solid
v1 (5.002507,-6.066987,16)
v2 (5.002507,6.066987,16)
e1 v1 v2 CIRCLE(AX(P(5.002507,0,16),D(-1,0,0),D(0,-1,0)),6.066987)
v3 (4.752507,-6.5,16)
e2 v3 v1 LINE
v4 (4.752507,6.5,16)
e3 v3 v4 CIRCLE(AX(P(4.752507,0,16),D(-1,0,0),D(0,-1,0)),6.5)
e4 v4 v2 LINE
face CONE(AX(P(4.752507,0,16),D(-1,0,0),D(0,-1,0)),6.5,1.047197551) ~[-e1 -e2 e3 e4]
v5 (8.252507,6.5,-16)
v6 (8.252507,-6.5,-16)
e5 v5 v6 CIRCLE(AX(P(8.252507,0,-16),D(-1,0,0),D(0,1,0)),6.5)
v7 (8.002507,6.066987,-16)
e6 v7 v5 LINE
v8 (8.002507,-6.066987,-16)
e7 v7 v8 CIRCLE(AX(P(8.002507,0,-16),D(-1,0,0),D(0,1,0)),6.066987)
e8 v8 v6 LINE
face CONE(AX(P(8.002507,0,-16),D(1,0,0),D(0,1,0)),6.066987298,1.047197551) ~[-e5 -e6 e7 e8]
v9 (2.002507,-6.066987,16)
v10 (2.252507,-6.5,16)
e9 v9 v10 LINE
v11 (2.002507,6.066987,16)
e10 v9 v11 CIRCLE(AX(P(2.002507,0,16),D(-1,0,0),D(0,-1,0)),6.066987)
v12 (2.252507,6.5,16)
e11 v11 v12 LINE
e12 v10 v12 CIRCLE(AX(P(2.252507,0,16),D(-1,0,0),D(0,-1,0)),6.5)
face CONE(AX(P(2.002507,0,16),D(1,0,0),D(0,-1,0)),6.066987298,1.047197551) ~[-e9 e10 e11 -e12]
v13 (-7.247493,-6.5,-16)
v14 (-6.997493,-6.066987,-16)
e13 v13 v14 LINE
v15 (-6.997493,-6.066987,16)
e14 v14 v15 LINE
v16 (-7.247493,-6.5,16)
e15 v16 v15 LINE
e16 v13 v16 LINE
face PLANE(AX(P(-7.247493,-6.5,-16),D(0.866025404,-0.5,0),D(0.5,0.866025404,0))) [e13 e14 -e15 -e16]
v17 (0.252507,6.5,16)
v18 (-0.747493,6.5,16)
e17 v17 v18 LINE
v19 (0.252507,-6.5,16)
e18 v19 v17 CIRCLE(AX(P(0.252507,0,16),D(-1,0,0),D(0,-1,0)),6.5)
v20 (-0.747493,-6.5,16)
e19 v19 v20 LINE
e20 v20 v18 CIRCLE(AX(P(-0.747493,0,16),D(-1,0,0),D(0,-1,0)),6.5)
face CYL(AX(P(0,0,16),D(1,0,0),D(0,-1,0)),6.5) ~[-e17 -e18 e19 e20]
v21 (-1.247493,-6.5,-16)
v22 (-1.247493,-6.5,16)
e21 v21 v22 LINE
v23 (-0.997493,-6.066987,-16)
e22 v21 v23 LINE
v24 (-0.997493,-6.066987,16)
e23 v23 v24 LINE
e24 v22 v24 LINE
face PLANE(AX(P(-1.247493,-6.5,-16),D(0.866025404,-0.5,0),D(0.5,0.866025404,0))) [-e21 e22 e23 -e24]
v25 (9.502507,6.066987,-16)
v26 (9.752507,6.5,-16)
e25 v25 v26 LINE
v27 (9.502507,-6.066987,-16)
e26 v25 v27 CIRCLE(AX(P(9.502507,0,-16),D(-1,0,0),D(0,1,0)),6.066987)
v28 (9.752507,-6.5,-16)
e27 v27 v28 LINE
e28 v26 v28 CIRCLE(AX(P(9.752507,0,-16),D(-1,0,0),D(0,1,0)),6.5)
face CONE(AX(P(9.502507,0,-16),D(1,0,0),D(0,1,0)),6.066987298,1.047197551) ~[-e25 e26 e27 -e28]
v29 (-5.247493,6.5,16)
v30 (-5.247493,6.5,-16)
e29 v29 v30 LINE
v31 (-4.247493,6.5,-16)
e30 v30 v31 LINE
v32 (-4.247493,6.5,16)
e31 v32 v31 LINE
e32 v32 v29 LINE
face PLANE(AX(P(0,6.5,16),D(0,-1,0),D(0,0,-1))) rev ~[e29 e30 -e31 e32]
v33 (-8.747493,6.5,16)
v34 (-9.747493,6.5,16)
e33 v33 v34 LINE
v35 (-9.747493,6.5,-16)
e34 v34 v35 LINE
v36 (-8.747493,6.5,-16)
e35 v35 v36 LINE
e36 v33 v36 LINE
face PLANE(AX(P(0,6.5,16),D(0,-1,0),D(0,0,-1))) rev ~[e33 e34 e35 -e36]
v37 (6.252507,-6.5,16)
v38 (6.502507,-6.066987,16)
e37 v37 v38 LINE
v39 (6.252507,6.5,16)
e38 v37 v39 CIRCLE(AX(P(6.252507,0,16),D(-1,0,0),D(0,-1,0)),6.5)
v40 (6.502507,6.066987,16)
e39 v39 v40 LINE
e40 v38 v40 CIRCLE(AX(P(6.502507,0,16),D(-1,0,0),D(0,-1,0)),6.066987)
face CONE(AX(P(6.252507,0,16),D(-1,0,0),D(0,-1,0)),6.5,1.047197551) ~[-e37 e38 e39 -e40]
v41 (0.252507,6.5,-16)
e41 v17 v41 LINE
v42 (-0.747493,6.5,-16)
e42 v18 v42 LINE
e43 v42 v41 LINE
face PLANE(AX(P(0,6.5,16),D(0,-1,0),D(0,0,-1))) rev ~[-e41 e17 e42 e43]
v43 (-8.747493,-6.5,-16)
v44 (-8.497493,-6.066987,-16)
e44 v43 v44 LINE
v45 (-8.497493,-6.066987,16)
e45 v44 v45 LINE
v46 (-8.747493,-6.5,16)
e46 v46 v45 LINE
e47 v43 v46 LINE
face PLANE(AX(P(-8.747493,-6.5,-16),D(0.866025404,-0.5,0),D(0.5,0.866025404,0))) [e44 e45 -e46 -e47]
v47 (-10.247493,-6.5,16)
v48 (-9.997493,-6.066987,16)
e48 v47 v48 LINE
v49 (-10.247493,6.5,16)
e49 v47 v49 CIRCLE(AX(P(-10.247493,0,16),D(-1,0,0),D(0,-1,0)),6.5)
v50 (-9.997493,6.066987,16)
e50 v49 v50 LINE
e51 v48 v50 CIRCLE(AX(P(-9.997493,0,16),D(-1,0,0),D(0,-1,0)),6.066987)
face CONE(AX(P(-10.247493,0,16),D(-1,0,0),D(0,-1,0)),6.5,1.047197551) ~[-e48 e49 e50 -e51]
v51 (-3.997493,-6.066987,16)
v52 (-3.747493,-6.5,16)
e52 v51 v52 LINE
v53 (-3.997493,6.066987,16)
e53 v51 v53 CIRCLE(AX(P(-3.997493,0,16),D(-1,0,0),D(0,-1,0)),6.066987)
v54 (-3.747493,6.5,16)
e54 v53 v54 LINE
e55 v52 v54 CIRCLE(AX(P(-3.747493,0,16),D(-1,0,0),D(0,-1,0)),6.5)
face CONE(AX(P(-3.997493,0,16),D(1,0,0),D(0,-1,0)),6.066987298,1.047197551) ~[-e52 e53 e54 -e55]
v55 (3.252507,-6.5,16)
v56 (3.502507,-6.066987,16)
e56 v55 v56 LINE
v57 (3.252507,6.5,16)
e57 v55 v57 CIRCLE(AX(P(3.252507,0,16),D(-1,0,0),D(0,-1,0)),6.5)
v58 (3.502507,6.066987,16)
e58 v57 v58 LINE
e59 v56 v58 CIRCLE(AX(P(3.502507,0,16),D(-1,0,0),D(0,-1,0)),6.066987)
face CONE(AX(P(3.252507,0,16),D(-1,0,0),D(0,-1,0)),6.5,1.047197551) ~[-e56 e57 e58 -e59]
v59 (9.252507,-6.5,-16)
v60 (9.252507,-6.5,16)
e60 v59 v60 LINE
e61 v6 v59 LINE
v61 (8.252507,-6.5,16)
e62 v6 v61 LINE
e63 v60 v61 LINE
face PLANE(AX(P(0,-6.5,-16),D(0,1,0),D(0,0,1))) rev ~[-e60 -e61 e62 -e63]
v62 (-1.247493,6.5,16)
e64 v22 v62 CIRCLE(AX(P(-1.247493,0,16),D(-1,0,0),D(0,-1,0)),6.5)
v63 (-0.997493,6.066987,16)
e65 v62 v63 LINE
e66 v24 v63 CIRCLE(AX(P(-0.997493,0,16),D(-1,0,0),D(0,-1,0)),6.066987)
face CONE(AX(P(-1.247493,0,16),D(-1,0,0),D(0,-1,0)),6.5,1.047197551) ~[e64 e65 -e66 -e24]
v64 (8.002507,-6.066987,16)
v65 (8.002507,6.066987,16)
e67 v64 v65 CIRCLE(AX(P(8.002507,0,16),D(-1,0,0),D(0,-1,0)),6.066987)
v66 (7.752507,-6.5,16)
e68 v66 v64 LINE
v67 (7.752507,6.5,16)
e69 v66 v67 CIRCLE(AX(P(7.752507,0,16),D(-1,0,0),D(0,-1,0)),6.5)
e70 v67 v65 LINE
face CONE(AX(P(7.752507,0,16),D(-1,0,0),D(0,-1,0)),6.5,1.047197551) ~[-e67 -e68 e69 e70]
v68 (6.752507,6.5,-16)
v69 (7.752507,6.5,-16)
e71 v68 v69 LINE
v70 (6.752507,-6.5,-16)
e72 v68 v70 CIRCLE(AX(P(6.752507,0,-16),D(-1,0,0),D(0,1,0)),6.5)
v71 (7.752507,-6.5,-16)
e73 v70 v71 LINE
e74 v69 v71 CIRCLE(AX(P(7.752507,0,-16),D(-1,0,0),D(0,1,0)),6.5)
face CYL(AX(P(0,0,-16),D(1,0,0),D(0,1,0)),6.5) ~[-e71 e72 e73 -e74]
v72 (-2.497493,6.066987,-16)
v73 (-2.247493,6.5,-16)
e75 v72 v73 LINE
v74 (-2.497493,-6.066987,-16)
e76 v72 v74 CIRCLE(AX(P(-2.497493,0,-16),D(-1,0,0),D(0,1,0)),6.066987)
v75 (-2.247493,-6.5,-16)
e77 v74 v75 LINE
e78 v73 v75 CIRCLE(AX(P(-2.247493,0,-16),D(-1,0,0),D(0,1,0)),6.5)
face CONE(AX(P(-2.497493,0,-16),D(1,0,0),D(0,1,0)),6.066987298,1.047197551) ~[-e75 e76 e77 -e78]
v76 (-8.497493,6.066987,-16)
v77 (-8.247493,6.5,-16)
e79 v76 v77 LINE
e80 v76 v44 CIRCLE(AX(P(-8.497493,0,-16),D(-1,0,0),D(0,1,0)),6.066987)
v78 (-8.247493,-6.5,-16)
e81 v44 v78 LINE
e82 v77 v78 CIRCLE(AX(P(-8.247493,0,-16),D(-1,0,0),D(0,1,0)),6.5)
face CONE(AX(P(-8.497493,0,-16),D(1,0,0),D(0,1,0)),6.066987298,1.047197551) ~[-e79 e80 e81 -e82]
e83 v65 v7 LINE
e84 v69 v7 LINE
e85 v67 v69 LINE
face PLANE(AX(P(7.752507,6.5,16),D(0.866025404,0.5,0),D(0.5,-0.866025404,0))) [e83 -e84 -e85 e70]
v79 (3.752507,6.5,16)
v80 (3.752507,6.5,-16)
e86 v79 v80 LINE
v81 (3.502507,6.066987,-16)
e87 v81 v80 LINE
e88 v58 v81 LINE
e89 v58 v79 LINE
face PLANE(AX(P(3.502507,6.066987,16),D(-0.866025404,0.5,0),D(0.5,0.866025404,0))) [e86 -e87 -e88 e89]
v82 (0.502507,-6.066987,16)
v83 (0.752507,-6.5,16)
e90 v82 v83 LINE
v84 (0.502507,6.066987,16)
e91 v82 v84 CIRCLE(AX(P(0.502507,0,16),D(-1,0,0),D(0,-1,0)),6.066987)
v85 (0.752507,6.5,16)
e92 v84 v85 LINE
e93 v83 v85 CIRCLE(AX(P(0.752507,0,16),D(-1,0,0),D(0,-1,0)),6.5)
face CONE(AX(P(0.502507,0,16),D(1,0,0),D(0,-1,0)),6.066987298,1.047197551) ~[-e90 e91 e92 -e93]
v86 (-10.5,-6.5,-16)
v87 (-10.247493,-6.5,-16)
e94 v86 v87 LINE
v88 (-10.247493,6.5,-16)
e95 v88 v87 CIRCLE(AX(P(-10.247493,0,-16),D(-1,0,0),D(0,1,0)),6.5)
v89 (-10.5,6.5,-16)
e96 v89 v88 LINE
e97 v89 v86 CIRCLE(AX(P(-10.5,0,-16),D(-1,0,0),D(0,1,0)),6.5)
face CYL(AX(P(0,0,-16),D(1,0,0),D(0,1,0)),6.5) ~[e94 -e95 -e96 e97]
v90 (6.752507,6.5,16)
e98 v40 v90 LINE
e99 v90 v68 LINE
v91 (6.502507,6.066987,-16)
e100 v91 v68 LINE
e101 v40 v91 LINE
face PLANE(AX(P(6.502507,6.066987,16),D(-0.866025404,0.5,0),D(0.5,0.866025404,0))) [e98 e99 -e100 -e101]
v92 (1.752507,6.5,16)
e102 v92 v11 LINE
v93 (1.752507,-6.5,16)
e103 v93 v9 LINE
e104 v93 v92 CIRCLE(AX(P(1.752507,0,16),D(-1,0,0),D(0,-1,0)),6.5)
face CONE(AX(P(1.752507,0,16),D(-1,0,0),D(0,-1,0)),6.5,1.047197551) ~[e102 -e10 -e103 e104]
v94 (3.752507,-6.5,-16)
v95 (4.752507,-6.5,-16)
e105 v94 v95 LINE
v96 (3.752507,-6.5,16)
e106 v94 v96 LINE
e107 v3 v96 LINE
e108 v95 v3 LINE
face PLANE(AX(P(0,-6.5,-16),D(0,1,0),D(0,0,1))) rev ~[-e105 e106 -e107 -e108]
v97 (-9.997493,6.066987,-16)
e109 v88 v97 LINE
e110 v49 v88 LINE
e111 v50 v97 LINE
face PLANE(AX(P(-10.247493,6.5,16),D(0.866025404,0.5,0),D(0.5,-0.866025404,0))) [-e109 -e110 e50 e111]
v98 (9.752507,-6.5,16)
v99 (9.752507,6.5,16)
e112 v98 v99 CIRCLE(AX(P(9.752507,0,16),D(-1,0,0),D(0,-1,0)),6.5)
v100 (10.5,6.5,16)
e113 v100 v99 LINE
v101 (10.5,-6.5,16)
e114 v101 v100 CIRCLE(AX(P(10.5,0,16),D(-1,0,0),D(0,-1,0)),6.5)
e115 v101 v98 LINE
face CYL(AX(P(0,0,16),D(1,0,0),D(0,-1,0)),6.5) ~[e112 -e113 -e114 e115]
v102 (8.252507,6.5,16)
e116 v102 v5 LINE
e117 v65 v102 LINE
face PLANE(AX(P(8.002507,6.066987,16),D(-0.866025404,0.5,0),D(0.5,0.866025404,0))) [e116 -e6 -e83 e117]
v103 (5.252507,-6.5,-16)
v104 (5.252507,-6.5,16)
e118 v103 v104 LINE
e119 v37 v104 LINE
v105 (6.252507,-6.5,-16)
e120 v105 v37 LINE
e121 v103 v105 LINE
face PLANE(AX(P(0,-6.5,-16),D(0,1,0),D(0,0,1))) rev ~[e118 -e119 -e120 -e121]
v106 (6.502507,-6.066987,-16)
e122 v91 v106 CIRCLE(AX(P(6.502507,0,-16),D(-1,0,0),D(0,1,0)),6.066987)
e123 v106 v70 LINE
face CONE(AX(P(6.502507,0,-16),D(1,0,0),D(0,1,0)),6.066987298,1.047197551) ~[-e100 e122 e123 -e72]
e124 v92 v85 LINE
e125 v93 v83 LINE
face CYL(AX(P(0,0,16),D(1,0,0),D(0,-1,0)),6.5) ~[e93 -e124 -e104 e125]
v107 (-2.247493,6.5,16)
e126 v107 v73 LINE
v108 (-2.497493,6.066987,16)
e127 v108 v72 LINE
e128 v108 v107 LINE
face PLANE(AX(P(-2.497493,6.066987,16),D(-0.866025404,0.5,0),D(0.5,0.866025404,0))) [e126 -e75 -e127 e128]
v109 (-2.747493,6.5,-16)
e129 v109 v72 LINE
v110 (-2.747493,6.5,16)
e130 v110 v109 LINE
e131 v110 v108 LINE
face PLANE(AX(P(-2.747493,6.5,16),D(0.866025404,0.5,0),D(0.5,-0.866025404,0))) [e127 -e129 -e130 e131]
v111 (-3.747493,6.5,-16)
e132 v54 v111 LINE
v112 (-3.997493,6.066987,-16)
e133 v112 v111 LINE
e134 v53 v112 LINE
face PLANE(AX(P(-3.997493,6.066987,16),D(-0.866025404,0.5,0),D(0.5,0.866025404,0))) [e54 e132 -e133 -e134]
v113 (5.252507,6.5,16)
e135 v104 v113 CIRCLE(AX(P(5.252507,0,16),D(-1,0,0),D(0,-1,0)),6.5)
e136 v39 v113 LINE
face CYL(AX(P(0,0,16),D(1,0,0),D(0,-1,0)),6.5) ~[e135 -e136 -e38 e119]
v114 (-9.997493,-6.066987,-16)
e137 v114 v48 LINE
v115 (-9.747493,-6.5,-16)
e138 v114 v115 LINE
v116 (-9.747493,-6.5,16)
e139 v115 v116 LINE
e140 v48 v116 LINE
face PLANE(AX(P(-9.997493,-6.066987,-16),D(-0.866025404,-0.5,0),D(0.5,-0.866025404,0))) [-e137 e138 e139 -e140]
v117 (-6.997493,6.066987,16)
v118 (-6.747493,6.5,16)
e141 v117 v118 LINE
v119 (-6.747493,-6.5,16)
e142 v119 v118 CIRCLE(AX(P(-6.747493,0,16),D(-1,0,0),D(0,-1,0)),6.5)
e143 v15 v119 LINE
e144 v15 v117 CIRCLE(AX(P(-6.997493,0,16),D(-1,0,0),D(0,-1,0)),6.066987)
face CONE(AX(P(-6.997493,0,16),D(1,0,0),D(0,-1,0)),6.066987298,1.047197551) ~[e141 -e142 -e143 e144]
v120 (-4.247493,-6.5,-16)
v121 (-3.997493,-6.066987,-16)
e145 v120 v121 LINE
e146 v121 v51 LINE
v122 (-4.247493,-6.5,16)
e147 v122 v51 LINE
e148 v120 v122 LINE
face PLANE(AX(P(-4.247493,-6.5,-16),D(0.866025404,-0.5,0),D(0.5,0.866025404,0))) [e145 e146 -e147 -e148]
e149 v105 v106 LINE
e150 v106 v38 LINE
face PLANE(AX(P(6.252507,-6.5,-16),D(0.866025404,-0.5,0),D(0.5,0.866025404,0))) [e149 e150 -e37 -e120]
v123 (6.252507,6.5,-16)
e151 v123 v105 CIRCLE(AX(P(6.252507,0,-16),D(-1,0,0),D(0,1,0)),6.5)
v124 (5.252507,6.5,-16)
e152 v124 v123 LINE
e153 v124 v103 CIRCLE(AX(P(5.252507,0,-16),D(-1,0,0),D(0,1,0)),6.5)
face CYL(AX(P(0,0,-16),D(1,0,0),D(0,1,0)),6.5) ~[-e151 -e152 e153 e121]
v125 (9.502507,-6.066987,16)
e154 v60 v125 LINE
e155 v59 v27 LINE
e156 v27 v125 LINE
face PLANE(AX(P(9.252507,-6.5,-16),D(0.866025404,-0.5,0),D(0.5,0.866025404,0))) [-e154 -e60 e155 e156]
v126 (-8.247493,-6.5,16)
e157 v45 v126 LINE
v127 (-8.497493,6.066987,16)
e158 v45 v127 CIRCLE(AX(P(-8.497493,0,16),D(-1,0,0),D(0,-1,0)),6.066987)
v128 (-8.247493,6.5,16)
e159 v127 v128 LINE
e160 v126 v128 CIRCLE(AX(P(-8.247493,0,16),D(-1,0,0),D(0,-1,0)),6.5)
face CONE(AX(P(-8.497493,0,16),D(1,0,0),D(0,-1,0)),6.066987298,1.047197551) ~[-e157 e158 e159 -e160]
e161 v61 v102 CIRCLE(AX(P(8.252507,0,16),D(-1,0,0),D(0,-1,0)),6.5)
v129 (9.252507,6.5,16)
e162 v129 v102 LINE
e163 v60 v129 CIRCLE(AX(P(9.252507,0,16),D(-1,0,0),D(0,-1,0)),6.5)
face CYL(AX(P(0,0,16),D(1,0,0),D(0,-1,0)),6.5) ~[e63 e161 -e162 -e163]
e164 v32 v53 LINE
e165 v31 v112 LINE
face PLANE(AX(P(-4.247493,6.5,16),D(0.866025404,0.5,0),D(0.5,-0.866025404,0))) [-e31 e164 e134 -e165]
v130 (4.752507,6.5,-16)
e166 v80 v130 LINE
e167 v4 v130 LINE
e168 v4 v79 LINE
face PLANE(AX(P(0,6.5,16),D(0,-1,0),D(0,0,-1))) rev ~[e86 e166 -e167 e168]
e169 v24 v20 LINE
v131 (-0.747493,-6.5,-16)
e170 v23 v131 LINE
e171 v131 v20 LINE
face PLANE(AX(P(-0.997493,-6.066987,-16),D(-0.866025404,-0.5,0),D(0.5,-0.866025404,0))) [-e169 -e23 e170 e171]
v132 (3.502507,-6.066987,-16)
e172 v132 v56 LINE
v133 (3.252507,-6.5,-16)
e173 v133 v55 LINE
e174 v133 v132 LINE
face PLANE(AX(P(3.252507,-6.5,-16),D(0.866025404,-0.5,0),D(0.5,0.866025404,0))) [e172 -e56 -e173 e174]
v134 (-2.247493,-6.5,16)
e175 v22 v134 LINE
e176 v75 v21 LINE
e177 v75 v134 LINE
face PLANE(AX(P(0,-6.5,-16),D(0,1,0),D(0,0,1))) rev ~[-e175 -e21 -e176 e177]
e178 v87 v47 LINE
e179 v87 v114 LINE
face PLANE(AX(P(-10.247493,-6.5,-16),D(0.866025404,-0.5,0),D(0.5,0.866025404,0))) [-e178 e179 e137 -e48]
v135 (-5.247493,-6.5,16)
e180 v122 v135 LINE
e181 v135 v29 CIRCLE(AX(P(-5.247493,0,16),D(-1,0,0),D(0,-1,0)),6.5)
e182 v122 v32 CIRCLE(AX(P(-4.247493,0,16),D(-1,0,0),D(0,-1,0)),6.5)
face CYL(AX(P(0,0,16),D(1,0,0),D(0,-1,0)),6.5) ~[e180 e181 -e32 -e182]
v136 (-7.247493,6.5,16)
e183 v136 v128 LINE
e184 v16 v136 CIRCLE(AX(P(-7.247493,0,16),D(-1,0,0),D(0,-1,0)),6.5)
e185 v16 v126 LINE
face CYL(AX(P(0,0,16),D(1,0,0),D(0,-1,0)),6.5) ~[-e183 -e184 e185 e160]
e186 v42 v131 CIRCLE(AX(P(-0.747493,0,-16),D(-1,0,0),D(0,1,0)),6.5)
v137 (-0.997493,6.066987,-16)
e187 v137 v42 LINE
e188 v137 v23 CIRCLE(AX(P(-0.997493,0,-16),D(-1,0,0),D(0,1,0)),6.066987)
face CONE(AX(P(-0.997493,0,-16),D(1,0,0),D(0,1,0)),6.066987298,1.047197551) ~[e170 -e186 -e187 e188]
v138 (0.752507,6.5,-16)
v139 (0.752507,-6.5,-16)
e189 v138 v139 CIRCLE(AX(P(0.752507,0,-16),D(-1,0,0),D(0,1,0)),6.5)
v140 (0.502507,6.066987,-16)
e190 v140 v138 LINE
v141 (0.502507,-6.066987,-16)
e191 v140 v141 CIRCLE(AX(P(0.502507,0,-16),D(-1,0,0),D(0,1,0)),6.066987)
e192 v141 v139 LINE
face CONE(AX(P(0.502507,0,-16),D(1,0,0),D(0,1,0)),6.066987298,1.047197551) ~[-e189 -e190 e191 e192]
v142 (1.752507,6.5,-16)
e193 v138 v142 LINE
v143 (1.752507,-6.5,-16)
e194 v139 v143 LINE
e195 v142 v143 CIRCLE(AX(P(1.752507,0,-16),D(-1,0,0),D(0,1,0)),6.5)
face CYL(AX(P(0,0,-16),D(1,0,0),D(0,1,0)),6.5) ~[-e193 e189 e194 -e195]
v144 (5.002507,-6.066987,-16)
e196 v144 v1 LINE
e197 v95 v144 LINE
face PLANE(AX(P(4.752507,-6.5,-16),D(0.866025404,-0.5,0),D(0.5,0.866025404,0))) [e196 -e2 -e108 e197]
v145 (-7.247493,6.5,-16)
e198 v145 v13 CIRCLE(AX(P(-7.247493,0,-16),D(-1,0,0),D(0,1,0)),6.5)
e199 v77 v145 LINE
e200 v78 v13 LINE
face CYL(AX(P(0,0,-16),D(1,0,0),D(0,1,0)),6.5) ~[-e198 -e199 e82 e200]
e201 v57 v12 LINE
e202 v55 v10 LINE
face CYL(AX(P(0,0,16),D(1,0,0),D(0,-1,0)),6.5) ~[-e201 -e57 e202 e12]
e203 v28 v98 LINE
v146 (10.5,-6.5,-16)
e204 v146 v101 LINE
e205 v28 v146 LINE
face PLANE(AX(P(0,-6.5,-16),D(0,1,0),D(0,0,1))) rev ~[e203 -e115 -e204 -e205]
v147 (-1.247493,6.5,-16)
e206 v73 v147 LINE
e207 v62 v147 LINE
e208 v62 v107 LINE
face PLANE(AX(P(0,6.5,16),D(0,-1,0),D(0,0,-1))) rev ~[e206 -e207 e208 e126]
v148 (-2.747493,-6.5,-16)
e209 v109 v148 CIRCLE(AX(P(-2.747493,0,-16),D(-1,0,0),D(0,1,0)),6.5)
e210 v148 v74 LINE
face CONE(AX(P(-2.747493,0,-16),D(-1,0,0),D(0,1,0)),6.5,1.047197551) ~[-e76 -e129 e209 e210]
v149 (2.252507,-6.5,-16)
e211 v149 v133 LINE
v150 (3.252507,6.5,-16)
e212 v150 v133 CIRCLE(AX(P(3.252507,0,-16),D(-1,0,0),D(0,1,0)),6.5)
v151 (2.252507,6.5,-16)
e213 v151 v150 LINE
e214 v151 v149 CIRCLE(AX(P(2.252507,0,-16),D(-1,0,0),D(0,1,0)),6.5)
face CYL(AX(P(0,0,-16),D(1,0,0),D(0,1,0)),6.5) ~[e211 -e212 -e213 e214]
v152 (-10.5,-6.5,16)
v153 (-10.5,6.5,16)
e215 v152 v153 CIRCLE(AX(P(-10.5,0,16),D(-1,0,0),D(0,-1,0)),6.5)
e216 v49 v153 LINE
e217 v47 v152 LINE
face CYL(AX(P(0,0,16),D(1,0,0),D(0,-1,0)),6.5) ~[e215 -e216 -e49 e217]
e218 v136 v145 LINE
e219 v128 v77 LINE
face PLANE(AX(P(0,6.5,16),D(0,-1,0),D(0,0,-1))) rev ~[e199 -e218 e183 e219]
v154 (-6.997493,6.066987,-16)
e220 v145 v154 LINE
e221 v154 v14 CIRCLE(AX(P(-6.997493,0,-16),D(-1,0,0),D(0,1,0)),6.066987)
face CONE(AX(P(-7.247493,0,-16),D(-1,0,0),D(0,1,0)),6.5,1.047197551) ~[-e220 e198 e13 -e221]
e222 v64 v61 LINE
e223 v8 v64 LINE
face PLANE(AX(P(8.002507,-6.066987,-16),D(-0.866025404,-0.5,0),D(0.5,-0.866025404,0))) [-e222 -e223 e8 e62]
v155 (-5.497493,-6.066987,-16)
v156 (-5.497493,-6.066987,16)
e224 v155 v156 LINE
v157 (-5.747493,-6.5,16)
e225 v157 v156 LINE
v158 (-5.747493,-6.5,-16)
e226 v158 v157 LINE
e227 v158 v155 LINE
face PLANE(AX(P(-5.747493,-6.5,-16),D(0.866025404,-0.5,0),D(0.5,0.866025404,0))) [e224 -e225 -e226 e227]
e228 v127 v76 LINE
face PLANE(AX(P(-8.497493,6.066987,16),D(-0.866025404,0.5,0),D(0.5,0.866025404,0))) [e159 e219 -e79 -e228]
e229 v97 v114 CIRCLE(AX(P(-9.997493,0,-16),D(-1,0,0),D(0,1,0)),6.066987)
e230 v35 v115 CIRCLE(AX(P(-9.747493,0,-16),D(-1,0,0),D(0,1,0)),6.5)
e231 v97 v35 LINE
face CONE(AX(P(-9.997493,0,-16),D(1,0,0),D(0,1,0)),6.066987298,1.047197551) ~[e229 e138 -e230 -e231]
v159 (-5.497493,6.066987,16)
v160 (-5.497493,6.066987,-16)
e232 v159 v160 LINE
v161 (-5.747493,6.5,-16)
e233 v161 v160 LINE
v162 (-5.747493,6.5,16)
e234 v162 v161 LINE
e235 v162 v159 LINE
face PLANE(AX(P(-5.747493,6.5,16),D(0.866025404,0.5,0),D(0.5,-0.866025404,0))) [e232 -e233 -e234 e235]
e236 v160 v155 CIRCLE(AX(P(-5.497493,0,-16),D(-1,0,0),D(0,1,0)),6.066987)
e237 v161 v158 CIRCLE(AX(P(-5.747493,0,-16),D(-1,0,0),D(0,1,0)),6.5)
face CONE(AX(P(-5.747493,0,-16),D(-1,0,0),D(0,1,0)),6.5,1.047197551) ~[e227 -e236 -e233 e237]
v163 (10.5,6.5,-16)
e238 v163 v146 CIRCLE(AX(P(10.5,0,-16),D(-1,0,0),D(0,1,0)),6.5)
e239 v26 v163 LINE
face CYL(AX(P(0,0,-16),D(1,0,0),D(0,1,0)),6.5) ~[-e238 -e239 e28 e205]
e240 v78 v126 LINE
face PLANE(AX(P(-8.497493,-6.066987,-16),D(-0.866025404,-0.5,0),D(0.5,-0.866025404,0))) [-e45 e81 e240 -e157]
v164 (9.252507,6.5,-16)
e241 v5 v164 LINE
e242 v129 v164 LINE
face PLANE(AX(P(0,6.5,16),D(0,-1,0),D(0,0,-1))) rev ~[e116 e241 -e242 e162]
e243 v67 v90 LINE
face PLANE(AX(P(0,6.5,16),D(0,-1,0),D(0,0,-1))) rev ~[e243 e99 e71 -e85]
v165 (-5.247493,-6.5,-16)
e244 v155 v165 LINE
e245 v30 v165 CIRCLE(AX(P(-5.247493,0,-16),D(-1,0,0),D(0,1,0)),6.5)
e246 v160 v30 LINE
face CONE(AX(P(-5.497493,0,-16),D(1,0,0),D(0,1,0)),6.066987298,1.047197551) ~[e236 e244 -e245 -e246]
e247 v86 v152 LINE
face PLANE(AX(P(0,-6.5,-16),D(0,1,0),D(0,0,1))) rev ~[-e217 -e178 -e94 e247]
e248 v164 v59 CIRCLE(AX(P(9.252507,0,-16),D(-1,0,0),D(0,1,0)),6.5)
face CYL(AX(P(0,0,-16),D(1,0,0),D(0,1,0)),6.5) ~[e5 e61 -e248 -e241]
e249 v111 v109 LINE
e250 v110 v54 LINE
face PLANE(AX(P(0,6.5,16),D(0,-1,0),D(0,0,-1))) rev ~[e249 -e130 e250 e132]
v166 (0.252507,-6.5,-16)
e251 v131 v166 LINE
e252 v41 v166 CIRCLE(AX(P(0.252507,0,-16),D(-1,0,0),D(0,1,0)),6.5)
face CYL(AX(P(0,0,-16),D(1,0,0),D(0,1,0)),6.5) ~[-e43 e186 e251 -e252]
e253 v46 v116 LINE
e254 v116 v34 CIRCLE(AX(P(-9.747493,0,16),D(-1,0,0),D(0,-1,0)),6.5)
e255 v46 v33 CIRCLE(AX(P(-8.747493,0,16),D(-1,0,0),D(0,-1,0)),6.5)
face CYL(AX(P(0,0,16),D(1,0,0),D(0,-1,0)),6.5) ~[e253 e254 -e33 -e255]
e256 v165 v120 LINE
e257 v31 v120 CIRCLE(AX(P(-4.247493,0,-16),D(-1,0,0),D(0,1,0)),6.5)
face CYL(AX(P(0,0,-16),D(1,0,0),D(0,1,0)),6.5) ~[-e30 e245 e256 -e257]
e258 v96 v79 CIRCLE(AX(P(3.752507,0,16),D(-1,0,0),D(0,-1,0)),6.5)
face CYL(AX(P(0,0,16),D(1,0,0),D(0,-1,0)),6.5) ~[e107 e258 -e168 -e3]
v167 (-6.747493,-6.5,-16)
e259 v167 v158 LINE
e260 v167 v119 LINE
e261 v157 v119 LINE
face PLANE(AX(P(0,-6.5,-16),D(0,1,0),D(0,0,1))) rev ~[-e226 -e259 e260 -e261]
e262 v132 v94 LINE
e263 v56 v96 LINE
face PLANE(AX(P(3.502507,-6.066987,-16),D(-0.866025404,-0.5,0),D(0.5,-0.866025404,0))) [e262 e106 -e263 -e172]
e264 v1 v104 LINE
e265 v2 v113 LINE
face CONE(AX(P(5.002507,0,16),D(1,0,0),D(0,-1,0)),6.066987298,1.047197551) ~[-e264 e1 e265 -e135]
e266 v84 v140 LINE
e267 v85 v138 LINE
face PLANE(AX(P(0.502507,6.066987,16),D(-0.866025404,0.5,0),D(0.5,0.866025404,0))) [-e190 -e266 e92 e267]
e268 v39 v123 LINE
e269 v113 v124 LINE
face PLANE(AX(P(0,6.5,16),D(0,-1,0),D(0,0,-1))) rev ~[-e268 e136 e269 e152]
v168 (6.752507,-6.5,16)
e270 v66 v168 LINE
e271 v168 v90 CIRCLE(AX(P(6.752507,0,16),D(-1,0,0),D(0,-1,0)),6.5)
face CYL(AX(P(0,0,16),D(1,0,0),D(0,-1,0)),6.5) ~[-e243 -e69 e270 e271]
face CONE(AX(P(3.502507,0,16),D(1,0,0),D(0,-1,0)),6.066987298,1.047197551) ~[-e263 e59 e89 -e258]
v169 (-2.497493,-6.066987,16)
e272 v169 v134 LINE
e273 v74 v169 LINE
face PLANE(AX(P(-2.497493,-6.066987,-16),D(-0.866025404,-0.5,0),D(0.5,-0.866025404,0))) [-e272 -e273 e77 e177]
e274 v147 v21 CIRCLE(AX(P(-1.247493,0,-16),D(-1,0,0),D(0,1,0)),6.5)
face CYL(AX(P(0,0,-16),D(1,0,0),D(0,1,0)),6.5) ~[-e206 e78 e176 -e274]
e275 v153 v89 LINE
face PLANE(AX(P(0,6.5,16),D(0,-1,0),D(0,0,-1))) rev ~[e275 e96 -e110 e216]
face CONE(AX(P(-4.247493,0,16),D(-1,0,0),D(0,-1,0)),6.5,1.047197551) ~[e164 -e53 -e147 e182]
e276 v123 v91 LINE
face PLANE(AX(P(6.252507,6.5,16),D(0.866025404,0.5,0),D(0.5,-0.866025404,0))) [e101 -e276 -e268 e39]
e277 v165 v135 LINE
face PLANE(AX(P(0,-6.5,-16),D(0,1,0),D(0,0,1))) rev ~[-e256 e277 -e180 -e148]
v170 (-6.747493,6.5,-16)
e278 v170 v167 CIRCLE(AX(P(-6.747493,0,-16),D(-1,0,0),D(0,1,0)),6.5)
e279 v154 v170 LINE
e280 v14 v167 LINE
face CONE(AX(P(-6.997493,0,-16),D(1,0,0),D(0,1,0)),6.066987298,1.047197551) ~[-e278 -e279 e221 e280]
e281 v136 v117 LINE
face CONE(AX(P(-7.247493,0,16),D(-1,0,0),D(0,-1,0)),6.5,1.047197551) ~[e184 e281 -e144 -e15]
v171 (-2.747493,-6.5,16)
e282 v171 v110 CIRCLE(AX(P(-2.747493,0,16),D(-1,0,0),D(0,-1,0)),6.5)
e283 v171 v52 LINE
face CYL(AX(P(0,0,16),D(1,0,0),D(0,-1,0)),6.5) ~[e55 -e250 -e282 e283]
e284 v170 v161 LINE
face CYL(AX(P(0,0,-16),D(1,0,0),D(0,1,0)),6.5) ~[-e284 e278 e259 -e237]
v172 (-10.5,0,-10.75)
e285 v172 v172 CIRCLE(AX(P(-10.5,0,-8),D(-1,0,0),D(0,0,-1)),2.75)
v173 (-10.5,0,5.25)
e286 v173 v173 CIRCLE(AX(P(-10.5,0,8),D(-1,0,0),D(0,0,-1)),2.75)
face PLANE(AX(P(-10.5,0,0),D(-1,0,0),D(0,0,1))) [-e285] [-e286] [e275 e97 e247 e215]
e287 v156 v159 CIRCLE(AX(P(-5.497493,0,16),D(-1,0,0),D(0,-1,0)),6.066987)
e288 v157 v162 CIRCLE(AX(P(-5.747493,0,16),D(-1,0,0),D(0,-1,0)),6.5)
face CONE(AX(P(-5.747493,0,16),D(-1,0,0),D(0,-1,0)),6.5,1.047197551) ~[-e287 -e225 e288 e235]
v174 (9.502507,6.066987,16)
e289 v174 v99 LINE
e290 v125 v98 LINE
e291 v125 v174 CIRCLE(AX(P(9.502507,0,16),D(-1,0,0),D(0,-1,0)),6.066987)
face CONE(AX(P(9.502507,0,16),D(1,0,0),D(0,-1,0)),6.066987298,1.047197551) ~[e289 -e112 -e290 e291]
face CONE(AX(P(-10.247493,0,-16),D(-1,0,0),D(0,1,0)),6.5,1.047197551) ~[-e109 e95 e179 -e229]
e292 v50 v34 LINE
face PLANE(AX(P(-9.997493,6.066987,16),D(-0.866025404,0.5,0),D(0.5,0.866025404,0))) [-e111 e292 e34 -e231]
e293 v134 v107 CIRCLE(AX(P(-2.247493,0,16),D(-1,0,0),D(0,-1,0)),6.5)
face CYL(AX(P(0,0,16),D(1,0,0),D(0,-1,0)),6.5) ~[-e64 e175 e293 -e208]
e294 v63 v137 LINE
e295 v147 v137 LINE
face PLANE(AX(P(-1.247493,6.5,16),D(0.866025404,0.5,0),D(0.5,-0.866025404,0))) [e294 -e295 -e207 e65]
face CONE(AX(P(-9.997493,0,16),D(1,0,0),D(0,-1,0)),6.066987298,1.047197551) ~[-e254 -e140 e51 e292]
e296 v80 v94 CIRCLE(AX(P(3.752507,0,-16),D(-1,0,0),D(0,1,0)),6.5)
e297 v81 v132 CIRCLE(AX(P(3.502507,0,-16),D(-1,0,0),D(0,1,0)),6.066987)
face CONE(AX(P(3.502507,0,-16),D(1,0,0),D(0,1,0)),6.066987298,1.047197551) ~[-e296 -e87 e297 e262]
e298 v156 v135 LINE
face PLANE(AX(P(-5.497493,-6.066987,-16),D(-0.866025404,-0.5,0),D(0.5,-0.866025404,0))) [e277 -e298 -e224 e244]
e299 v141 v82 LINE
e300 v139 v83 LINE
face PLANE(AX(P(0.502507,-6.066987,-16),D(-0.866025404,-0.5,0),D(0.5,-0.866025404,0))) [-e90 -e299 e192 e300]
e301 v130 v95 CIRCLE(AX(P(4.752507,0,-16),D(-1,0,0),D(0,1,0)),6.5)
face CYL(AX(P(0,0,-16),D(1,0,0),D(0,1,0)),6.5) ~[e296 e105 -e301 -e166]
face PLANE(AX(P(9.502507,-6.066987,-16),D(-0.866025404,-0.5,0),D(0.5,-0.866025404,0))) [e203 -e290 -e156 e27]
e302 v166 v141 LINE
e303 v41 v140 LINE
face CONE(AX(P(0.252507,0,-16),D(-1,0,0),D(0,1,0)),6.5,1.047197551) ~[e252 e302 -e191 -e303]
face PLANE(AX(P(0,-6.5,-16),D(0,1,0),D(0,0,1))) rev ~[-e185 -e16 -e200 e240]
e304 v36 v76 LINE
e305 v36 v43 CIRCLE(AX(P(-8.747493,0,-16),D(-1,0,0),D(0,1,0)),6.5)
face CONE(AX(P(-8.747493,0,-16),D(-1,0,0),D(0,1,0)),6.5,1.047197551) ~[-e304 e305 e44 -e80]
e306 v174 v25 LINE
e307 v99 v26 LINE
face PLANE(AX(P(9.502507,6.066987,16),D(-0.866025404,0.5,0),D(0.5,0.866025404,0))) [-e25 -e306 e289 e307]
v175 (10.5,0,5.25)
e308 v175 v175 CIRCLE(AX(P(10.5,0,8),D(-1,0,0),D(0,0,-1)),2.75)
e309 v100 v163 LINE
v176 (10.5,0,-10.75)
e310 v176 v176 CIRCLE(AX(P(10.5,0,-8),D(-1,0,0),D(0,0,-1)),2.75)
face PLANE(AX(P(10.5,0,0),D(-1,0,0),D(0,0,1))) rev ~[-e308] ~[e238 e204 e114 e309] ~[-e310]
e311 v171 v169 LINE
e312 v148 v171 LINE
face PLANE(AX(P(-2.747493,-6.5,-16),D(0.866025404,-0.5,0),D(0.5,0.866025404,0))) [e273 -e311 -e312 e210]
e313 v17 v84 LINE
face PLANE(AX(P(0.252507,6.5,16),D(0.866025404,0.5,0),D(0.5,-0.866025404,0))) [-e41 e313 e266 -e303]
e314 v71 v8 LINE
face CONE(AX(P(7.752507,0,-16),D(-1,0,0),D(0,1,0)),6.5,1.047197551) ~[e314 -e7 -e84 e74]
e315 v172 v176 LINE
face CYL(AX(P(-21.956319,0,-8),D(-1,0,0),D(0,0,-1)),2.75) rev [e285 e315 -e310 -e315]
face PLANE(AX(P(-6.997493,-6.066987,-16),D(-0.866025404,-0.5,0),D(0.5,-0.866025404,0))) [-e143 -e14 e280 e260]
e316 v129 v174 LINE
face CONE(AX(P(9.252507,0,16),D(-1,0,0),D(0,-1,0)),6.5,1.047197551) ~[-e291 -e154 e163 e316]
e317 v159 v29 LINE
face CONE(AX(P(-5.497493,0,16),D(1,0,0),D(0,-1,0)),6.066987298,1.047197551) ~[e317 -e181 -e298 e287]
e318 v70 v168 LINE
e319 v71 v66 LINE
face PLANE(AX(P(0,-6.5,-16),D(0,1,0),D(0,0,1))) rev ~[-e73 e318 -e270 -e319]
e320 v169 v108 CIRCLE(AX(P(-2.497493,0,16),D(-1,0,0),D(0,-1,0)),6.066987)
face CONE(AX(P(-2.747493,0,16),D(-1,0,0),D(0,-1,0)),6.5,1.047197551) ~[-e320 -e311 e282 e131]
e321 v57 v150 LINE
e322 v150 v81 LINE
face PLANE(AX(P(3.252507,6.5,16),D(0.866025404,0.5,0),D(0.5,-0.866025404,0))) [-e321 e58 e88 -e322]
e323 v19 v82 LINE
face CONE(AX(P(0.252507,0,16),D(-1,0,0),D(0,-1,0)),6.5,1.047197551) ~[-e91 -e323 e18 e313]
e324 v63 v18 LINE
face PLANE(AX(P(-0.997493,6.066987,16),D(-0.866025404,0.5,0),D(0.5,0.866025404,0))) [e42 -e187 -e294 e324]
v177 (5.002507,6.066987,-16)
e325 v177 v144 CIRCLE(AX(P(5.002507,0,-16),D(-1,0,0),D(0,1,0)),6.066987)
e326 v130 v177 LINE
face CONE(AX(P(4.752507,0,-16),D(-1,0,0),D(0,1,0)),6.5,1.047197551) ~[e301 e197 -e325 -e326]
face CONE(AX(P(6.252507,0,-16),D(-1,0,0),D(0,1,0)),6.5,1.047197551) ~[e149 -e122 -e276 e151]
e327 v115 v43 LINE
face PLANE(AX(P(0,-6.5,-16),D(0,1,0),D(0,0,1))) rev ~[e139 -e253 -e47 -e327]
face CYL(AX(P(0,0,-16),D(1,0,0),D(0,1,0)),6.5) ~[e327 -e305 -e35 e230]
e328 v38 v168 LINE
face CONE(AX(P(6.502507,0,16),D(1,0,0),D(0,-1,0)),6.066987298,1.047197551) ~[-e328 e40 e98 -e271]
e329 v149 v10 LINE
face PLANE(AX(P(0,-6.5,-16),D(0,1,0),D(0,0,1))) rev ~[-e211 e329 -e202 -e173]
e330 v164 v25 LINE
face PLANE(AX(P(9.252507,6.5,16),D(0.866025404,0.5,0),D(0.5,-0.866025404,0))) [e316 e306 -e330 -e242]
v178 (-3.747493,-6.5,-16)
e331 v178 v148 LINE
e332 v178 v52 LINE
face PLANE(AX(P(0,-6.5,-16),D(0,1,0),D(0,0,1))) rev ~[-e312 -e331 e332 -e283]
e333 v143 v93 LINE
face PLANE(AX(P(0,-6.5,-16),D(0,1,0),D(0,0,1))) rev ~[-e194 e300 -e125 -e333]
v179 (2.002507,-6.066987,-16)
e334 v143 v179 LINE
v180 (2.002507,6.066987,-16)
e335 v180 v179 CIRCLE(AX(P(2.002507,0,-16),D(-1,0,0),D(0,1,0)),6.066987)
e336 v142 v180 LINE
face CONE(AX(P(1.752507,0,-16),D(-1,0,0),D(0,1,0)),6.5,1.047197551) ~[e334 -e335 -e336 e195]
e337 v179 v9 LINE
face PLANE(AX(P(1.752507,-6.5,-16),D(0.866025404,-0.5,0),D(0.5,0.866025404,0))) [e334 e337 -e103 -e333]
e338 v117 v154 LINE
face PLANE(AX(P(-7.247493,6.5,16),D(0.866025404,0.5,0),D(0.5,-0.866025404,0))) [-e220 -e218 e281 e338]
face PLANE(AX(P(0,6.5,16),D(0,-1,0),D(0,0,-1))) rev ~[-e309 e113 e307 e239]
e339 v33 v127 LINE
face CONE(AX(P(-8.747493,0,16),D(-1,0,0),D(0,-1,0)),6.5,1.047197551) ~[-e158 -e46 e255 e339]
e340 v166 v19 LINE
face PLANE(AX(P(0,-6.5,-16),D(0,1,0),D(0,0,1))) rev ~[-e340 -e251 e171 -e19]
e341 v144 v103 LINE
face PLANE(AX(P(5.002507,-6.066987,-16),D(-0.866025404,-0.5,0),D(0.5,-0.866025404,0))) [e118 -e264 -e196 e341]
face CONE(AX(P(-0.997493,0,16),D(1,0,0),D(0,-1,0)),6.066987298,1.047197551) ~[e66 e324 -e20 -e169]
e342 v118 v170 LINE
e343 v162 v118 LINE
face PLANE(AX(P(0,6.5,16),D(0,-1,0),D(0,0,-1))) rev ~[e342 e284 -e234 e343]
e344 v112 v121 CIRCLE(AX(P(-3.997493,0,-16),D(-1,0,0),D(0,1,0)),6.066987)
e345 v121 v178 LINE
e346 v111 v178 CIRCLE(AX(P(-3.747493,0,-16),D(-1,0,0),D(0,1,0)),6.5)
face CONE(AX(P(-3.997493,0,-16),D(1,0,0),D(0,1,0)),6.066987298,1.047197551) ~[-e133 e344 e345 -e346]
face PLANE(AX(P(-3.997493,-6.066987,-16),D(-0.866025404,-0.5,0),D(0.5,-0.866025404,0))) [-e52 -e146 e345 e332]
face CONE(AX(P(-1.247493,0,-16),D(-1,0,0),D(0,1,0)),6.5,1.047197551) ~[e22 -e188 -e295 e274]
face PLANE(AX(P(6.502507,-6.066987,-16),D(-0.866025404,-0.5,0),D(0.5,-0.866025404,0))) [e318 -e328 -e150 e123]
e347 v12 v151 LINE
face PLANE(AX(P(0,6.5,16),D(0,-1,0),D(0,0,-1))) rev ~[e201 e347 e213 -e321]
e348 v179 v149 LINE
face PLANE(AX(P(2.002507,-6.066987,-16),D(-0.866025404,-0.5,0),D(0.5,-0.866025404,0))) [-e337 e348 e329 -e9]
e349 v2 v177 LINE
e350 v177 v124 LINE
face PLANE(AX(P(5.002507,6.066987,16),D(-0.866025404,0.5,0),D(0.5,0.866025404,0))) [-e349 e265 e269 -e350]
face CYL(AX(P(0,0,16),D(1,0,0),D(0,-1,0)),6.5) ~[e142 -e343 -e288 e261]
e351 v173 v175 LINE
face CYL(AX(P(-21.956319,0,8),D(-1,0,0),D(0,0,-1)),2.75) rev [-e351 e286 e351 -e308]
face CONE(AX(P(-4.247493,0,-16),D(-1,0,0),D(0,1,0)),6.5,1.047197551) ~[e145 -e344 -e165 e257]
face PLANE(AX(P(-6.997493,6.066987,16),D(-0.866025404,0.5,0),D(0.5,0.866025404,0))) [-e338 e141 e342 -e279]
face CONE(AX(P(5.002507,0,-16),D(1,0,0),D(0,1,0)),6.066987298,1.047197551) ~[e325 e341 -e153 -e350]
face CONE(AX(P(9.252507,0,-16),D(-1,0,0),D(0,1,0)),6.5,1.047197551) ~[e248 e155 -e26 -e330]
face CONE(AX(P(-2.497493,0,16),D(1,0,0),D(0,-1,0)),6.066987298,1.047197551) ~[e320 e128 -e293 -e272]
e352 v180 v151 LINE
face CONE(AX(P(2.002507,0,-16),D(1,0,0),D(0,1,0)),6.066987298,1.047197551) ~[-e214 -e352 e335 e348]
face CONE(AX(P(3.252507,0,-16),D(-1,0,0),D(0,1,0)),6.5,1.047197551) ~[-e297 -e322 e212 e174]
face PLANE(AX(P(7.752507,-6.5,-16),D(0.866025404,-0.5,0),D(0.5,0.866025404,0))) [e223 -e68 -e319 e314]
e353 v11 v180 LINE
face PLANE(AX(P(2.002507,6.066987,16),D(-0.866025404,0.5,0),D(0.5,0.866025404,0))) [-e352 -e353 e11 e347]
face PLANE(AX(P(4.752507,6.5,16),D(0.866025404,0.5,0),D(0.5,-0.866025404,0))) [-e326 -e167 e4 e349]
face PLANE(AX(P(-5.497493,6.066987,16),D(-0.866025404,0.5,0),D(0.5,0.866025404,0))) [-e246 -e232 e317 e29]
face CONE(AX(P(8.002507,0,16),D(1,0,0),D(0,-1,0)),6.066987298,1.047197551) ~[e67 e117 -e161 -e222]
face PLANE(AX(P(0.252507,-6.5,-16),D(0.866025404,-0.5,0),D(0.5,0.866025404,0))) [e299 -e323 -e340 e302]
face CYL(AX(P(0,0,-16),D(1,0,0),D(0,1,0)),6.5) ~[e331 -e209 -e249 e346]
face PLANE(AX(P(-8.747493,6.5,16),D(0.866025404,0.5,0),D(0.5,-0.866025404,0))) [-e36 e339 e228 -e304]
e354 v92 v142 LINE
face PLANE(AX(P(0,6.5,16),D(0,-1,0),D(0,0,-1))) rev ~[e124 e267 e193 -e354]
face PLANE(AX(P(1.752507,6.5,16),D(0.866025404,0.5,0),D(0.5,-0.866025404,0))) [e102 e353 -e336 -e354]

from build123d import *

# Parameters (mm, degrees)
BOSS_EXTRUDE1_DEPTH     = 10.5
LPATTERN1_COUNT         = 14
LPATTERN1_PITCH         = 1.5
CUT_EXTRUDE1_DEPTH      = 32.45631892
CUT_EXTRUDE1_DEPTH_BACK = 32.45631892
SKETCH5_R               = 2.75


with BuildPart() as part:
    # Sketch2 → Boss-Extrude1 (new, symmetric)
    with BuildSketch(Plane(origin=(0, 0, 0), x_dir=(0, 0, -1), z_dir=(1, 0, 0))):
        with BuildLine():
            Line((16, -6.5), (-16, -6.5))
            ThreePointArc((-16, -6.5), (-22.5, 0), (-16, 6.5))
            Line((-16, 6.5), (16, 6.5))
            ThreePointArc((16, 6.5), (22.5, 0), (16, -6.5))
        make_face()
    extrude(amount=BOSS_EXTRUDE1_DEPTH, both=True)

    # Cut-Sweep1: sweep along a path in Sketch4
    with BuildLine(Plane.ZY.offset(10.5)) as cut_sweep1_path:
        Line((-16, -6.5), (16, -6.5))
        ThreePointArc((16, -6.5), (22.5, 0), (16, 6.5))
        Line((16, 6.5), (-16, 6.5))
        ThreePointArc((-16, 6.5), (-22.5, 0), (-16, -6.5))
    # Sketch3 → Cut-Sweep1 (sweep, cut)
    with BuildSketch(Plane.XY):
        Polygon((-10.247493318, 6.5), (-9.997493318, 6.066987298), (-9.747493318, 6.5), align=None)
    cut_sweep1 = sweep(path=cut_sweep1_path.line, mode=Mode.SUBTRACT)

    # LPattern1: Cut-Sweep1 ×14
    with Locations(*[(i * LPATTERN1_PITCH, 0, 0) for i in range(1, LPATTERN1_COUNT)]):
        add(cut_sweep1, mode=Mode.SUBTRACT)

    # Sketch5 → Cut-Extrude1 (cut, two sides: drawn at the far end of the back side and taken through both)
    with BuildSketch(Plane(origin=(10.5, 0, 0), x_dir=(0, 0, -1), z_dir=(1, 0, 0)).offset(-CUT_EXTRUDE1_DEPTH_BACK)):
        with Locations((-8, 0)):
            Circle(SKETCH5_R)
        with Locations((8, 0)):
            Circle(SKETCH5_R)
    extrude(amount=CUT_EXTRUDE1_DEPTH + CUT_EXTRUDE1_DEPTH_BACK, mode=Mode.SUBTRACT)


solid = part.part
